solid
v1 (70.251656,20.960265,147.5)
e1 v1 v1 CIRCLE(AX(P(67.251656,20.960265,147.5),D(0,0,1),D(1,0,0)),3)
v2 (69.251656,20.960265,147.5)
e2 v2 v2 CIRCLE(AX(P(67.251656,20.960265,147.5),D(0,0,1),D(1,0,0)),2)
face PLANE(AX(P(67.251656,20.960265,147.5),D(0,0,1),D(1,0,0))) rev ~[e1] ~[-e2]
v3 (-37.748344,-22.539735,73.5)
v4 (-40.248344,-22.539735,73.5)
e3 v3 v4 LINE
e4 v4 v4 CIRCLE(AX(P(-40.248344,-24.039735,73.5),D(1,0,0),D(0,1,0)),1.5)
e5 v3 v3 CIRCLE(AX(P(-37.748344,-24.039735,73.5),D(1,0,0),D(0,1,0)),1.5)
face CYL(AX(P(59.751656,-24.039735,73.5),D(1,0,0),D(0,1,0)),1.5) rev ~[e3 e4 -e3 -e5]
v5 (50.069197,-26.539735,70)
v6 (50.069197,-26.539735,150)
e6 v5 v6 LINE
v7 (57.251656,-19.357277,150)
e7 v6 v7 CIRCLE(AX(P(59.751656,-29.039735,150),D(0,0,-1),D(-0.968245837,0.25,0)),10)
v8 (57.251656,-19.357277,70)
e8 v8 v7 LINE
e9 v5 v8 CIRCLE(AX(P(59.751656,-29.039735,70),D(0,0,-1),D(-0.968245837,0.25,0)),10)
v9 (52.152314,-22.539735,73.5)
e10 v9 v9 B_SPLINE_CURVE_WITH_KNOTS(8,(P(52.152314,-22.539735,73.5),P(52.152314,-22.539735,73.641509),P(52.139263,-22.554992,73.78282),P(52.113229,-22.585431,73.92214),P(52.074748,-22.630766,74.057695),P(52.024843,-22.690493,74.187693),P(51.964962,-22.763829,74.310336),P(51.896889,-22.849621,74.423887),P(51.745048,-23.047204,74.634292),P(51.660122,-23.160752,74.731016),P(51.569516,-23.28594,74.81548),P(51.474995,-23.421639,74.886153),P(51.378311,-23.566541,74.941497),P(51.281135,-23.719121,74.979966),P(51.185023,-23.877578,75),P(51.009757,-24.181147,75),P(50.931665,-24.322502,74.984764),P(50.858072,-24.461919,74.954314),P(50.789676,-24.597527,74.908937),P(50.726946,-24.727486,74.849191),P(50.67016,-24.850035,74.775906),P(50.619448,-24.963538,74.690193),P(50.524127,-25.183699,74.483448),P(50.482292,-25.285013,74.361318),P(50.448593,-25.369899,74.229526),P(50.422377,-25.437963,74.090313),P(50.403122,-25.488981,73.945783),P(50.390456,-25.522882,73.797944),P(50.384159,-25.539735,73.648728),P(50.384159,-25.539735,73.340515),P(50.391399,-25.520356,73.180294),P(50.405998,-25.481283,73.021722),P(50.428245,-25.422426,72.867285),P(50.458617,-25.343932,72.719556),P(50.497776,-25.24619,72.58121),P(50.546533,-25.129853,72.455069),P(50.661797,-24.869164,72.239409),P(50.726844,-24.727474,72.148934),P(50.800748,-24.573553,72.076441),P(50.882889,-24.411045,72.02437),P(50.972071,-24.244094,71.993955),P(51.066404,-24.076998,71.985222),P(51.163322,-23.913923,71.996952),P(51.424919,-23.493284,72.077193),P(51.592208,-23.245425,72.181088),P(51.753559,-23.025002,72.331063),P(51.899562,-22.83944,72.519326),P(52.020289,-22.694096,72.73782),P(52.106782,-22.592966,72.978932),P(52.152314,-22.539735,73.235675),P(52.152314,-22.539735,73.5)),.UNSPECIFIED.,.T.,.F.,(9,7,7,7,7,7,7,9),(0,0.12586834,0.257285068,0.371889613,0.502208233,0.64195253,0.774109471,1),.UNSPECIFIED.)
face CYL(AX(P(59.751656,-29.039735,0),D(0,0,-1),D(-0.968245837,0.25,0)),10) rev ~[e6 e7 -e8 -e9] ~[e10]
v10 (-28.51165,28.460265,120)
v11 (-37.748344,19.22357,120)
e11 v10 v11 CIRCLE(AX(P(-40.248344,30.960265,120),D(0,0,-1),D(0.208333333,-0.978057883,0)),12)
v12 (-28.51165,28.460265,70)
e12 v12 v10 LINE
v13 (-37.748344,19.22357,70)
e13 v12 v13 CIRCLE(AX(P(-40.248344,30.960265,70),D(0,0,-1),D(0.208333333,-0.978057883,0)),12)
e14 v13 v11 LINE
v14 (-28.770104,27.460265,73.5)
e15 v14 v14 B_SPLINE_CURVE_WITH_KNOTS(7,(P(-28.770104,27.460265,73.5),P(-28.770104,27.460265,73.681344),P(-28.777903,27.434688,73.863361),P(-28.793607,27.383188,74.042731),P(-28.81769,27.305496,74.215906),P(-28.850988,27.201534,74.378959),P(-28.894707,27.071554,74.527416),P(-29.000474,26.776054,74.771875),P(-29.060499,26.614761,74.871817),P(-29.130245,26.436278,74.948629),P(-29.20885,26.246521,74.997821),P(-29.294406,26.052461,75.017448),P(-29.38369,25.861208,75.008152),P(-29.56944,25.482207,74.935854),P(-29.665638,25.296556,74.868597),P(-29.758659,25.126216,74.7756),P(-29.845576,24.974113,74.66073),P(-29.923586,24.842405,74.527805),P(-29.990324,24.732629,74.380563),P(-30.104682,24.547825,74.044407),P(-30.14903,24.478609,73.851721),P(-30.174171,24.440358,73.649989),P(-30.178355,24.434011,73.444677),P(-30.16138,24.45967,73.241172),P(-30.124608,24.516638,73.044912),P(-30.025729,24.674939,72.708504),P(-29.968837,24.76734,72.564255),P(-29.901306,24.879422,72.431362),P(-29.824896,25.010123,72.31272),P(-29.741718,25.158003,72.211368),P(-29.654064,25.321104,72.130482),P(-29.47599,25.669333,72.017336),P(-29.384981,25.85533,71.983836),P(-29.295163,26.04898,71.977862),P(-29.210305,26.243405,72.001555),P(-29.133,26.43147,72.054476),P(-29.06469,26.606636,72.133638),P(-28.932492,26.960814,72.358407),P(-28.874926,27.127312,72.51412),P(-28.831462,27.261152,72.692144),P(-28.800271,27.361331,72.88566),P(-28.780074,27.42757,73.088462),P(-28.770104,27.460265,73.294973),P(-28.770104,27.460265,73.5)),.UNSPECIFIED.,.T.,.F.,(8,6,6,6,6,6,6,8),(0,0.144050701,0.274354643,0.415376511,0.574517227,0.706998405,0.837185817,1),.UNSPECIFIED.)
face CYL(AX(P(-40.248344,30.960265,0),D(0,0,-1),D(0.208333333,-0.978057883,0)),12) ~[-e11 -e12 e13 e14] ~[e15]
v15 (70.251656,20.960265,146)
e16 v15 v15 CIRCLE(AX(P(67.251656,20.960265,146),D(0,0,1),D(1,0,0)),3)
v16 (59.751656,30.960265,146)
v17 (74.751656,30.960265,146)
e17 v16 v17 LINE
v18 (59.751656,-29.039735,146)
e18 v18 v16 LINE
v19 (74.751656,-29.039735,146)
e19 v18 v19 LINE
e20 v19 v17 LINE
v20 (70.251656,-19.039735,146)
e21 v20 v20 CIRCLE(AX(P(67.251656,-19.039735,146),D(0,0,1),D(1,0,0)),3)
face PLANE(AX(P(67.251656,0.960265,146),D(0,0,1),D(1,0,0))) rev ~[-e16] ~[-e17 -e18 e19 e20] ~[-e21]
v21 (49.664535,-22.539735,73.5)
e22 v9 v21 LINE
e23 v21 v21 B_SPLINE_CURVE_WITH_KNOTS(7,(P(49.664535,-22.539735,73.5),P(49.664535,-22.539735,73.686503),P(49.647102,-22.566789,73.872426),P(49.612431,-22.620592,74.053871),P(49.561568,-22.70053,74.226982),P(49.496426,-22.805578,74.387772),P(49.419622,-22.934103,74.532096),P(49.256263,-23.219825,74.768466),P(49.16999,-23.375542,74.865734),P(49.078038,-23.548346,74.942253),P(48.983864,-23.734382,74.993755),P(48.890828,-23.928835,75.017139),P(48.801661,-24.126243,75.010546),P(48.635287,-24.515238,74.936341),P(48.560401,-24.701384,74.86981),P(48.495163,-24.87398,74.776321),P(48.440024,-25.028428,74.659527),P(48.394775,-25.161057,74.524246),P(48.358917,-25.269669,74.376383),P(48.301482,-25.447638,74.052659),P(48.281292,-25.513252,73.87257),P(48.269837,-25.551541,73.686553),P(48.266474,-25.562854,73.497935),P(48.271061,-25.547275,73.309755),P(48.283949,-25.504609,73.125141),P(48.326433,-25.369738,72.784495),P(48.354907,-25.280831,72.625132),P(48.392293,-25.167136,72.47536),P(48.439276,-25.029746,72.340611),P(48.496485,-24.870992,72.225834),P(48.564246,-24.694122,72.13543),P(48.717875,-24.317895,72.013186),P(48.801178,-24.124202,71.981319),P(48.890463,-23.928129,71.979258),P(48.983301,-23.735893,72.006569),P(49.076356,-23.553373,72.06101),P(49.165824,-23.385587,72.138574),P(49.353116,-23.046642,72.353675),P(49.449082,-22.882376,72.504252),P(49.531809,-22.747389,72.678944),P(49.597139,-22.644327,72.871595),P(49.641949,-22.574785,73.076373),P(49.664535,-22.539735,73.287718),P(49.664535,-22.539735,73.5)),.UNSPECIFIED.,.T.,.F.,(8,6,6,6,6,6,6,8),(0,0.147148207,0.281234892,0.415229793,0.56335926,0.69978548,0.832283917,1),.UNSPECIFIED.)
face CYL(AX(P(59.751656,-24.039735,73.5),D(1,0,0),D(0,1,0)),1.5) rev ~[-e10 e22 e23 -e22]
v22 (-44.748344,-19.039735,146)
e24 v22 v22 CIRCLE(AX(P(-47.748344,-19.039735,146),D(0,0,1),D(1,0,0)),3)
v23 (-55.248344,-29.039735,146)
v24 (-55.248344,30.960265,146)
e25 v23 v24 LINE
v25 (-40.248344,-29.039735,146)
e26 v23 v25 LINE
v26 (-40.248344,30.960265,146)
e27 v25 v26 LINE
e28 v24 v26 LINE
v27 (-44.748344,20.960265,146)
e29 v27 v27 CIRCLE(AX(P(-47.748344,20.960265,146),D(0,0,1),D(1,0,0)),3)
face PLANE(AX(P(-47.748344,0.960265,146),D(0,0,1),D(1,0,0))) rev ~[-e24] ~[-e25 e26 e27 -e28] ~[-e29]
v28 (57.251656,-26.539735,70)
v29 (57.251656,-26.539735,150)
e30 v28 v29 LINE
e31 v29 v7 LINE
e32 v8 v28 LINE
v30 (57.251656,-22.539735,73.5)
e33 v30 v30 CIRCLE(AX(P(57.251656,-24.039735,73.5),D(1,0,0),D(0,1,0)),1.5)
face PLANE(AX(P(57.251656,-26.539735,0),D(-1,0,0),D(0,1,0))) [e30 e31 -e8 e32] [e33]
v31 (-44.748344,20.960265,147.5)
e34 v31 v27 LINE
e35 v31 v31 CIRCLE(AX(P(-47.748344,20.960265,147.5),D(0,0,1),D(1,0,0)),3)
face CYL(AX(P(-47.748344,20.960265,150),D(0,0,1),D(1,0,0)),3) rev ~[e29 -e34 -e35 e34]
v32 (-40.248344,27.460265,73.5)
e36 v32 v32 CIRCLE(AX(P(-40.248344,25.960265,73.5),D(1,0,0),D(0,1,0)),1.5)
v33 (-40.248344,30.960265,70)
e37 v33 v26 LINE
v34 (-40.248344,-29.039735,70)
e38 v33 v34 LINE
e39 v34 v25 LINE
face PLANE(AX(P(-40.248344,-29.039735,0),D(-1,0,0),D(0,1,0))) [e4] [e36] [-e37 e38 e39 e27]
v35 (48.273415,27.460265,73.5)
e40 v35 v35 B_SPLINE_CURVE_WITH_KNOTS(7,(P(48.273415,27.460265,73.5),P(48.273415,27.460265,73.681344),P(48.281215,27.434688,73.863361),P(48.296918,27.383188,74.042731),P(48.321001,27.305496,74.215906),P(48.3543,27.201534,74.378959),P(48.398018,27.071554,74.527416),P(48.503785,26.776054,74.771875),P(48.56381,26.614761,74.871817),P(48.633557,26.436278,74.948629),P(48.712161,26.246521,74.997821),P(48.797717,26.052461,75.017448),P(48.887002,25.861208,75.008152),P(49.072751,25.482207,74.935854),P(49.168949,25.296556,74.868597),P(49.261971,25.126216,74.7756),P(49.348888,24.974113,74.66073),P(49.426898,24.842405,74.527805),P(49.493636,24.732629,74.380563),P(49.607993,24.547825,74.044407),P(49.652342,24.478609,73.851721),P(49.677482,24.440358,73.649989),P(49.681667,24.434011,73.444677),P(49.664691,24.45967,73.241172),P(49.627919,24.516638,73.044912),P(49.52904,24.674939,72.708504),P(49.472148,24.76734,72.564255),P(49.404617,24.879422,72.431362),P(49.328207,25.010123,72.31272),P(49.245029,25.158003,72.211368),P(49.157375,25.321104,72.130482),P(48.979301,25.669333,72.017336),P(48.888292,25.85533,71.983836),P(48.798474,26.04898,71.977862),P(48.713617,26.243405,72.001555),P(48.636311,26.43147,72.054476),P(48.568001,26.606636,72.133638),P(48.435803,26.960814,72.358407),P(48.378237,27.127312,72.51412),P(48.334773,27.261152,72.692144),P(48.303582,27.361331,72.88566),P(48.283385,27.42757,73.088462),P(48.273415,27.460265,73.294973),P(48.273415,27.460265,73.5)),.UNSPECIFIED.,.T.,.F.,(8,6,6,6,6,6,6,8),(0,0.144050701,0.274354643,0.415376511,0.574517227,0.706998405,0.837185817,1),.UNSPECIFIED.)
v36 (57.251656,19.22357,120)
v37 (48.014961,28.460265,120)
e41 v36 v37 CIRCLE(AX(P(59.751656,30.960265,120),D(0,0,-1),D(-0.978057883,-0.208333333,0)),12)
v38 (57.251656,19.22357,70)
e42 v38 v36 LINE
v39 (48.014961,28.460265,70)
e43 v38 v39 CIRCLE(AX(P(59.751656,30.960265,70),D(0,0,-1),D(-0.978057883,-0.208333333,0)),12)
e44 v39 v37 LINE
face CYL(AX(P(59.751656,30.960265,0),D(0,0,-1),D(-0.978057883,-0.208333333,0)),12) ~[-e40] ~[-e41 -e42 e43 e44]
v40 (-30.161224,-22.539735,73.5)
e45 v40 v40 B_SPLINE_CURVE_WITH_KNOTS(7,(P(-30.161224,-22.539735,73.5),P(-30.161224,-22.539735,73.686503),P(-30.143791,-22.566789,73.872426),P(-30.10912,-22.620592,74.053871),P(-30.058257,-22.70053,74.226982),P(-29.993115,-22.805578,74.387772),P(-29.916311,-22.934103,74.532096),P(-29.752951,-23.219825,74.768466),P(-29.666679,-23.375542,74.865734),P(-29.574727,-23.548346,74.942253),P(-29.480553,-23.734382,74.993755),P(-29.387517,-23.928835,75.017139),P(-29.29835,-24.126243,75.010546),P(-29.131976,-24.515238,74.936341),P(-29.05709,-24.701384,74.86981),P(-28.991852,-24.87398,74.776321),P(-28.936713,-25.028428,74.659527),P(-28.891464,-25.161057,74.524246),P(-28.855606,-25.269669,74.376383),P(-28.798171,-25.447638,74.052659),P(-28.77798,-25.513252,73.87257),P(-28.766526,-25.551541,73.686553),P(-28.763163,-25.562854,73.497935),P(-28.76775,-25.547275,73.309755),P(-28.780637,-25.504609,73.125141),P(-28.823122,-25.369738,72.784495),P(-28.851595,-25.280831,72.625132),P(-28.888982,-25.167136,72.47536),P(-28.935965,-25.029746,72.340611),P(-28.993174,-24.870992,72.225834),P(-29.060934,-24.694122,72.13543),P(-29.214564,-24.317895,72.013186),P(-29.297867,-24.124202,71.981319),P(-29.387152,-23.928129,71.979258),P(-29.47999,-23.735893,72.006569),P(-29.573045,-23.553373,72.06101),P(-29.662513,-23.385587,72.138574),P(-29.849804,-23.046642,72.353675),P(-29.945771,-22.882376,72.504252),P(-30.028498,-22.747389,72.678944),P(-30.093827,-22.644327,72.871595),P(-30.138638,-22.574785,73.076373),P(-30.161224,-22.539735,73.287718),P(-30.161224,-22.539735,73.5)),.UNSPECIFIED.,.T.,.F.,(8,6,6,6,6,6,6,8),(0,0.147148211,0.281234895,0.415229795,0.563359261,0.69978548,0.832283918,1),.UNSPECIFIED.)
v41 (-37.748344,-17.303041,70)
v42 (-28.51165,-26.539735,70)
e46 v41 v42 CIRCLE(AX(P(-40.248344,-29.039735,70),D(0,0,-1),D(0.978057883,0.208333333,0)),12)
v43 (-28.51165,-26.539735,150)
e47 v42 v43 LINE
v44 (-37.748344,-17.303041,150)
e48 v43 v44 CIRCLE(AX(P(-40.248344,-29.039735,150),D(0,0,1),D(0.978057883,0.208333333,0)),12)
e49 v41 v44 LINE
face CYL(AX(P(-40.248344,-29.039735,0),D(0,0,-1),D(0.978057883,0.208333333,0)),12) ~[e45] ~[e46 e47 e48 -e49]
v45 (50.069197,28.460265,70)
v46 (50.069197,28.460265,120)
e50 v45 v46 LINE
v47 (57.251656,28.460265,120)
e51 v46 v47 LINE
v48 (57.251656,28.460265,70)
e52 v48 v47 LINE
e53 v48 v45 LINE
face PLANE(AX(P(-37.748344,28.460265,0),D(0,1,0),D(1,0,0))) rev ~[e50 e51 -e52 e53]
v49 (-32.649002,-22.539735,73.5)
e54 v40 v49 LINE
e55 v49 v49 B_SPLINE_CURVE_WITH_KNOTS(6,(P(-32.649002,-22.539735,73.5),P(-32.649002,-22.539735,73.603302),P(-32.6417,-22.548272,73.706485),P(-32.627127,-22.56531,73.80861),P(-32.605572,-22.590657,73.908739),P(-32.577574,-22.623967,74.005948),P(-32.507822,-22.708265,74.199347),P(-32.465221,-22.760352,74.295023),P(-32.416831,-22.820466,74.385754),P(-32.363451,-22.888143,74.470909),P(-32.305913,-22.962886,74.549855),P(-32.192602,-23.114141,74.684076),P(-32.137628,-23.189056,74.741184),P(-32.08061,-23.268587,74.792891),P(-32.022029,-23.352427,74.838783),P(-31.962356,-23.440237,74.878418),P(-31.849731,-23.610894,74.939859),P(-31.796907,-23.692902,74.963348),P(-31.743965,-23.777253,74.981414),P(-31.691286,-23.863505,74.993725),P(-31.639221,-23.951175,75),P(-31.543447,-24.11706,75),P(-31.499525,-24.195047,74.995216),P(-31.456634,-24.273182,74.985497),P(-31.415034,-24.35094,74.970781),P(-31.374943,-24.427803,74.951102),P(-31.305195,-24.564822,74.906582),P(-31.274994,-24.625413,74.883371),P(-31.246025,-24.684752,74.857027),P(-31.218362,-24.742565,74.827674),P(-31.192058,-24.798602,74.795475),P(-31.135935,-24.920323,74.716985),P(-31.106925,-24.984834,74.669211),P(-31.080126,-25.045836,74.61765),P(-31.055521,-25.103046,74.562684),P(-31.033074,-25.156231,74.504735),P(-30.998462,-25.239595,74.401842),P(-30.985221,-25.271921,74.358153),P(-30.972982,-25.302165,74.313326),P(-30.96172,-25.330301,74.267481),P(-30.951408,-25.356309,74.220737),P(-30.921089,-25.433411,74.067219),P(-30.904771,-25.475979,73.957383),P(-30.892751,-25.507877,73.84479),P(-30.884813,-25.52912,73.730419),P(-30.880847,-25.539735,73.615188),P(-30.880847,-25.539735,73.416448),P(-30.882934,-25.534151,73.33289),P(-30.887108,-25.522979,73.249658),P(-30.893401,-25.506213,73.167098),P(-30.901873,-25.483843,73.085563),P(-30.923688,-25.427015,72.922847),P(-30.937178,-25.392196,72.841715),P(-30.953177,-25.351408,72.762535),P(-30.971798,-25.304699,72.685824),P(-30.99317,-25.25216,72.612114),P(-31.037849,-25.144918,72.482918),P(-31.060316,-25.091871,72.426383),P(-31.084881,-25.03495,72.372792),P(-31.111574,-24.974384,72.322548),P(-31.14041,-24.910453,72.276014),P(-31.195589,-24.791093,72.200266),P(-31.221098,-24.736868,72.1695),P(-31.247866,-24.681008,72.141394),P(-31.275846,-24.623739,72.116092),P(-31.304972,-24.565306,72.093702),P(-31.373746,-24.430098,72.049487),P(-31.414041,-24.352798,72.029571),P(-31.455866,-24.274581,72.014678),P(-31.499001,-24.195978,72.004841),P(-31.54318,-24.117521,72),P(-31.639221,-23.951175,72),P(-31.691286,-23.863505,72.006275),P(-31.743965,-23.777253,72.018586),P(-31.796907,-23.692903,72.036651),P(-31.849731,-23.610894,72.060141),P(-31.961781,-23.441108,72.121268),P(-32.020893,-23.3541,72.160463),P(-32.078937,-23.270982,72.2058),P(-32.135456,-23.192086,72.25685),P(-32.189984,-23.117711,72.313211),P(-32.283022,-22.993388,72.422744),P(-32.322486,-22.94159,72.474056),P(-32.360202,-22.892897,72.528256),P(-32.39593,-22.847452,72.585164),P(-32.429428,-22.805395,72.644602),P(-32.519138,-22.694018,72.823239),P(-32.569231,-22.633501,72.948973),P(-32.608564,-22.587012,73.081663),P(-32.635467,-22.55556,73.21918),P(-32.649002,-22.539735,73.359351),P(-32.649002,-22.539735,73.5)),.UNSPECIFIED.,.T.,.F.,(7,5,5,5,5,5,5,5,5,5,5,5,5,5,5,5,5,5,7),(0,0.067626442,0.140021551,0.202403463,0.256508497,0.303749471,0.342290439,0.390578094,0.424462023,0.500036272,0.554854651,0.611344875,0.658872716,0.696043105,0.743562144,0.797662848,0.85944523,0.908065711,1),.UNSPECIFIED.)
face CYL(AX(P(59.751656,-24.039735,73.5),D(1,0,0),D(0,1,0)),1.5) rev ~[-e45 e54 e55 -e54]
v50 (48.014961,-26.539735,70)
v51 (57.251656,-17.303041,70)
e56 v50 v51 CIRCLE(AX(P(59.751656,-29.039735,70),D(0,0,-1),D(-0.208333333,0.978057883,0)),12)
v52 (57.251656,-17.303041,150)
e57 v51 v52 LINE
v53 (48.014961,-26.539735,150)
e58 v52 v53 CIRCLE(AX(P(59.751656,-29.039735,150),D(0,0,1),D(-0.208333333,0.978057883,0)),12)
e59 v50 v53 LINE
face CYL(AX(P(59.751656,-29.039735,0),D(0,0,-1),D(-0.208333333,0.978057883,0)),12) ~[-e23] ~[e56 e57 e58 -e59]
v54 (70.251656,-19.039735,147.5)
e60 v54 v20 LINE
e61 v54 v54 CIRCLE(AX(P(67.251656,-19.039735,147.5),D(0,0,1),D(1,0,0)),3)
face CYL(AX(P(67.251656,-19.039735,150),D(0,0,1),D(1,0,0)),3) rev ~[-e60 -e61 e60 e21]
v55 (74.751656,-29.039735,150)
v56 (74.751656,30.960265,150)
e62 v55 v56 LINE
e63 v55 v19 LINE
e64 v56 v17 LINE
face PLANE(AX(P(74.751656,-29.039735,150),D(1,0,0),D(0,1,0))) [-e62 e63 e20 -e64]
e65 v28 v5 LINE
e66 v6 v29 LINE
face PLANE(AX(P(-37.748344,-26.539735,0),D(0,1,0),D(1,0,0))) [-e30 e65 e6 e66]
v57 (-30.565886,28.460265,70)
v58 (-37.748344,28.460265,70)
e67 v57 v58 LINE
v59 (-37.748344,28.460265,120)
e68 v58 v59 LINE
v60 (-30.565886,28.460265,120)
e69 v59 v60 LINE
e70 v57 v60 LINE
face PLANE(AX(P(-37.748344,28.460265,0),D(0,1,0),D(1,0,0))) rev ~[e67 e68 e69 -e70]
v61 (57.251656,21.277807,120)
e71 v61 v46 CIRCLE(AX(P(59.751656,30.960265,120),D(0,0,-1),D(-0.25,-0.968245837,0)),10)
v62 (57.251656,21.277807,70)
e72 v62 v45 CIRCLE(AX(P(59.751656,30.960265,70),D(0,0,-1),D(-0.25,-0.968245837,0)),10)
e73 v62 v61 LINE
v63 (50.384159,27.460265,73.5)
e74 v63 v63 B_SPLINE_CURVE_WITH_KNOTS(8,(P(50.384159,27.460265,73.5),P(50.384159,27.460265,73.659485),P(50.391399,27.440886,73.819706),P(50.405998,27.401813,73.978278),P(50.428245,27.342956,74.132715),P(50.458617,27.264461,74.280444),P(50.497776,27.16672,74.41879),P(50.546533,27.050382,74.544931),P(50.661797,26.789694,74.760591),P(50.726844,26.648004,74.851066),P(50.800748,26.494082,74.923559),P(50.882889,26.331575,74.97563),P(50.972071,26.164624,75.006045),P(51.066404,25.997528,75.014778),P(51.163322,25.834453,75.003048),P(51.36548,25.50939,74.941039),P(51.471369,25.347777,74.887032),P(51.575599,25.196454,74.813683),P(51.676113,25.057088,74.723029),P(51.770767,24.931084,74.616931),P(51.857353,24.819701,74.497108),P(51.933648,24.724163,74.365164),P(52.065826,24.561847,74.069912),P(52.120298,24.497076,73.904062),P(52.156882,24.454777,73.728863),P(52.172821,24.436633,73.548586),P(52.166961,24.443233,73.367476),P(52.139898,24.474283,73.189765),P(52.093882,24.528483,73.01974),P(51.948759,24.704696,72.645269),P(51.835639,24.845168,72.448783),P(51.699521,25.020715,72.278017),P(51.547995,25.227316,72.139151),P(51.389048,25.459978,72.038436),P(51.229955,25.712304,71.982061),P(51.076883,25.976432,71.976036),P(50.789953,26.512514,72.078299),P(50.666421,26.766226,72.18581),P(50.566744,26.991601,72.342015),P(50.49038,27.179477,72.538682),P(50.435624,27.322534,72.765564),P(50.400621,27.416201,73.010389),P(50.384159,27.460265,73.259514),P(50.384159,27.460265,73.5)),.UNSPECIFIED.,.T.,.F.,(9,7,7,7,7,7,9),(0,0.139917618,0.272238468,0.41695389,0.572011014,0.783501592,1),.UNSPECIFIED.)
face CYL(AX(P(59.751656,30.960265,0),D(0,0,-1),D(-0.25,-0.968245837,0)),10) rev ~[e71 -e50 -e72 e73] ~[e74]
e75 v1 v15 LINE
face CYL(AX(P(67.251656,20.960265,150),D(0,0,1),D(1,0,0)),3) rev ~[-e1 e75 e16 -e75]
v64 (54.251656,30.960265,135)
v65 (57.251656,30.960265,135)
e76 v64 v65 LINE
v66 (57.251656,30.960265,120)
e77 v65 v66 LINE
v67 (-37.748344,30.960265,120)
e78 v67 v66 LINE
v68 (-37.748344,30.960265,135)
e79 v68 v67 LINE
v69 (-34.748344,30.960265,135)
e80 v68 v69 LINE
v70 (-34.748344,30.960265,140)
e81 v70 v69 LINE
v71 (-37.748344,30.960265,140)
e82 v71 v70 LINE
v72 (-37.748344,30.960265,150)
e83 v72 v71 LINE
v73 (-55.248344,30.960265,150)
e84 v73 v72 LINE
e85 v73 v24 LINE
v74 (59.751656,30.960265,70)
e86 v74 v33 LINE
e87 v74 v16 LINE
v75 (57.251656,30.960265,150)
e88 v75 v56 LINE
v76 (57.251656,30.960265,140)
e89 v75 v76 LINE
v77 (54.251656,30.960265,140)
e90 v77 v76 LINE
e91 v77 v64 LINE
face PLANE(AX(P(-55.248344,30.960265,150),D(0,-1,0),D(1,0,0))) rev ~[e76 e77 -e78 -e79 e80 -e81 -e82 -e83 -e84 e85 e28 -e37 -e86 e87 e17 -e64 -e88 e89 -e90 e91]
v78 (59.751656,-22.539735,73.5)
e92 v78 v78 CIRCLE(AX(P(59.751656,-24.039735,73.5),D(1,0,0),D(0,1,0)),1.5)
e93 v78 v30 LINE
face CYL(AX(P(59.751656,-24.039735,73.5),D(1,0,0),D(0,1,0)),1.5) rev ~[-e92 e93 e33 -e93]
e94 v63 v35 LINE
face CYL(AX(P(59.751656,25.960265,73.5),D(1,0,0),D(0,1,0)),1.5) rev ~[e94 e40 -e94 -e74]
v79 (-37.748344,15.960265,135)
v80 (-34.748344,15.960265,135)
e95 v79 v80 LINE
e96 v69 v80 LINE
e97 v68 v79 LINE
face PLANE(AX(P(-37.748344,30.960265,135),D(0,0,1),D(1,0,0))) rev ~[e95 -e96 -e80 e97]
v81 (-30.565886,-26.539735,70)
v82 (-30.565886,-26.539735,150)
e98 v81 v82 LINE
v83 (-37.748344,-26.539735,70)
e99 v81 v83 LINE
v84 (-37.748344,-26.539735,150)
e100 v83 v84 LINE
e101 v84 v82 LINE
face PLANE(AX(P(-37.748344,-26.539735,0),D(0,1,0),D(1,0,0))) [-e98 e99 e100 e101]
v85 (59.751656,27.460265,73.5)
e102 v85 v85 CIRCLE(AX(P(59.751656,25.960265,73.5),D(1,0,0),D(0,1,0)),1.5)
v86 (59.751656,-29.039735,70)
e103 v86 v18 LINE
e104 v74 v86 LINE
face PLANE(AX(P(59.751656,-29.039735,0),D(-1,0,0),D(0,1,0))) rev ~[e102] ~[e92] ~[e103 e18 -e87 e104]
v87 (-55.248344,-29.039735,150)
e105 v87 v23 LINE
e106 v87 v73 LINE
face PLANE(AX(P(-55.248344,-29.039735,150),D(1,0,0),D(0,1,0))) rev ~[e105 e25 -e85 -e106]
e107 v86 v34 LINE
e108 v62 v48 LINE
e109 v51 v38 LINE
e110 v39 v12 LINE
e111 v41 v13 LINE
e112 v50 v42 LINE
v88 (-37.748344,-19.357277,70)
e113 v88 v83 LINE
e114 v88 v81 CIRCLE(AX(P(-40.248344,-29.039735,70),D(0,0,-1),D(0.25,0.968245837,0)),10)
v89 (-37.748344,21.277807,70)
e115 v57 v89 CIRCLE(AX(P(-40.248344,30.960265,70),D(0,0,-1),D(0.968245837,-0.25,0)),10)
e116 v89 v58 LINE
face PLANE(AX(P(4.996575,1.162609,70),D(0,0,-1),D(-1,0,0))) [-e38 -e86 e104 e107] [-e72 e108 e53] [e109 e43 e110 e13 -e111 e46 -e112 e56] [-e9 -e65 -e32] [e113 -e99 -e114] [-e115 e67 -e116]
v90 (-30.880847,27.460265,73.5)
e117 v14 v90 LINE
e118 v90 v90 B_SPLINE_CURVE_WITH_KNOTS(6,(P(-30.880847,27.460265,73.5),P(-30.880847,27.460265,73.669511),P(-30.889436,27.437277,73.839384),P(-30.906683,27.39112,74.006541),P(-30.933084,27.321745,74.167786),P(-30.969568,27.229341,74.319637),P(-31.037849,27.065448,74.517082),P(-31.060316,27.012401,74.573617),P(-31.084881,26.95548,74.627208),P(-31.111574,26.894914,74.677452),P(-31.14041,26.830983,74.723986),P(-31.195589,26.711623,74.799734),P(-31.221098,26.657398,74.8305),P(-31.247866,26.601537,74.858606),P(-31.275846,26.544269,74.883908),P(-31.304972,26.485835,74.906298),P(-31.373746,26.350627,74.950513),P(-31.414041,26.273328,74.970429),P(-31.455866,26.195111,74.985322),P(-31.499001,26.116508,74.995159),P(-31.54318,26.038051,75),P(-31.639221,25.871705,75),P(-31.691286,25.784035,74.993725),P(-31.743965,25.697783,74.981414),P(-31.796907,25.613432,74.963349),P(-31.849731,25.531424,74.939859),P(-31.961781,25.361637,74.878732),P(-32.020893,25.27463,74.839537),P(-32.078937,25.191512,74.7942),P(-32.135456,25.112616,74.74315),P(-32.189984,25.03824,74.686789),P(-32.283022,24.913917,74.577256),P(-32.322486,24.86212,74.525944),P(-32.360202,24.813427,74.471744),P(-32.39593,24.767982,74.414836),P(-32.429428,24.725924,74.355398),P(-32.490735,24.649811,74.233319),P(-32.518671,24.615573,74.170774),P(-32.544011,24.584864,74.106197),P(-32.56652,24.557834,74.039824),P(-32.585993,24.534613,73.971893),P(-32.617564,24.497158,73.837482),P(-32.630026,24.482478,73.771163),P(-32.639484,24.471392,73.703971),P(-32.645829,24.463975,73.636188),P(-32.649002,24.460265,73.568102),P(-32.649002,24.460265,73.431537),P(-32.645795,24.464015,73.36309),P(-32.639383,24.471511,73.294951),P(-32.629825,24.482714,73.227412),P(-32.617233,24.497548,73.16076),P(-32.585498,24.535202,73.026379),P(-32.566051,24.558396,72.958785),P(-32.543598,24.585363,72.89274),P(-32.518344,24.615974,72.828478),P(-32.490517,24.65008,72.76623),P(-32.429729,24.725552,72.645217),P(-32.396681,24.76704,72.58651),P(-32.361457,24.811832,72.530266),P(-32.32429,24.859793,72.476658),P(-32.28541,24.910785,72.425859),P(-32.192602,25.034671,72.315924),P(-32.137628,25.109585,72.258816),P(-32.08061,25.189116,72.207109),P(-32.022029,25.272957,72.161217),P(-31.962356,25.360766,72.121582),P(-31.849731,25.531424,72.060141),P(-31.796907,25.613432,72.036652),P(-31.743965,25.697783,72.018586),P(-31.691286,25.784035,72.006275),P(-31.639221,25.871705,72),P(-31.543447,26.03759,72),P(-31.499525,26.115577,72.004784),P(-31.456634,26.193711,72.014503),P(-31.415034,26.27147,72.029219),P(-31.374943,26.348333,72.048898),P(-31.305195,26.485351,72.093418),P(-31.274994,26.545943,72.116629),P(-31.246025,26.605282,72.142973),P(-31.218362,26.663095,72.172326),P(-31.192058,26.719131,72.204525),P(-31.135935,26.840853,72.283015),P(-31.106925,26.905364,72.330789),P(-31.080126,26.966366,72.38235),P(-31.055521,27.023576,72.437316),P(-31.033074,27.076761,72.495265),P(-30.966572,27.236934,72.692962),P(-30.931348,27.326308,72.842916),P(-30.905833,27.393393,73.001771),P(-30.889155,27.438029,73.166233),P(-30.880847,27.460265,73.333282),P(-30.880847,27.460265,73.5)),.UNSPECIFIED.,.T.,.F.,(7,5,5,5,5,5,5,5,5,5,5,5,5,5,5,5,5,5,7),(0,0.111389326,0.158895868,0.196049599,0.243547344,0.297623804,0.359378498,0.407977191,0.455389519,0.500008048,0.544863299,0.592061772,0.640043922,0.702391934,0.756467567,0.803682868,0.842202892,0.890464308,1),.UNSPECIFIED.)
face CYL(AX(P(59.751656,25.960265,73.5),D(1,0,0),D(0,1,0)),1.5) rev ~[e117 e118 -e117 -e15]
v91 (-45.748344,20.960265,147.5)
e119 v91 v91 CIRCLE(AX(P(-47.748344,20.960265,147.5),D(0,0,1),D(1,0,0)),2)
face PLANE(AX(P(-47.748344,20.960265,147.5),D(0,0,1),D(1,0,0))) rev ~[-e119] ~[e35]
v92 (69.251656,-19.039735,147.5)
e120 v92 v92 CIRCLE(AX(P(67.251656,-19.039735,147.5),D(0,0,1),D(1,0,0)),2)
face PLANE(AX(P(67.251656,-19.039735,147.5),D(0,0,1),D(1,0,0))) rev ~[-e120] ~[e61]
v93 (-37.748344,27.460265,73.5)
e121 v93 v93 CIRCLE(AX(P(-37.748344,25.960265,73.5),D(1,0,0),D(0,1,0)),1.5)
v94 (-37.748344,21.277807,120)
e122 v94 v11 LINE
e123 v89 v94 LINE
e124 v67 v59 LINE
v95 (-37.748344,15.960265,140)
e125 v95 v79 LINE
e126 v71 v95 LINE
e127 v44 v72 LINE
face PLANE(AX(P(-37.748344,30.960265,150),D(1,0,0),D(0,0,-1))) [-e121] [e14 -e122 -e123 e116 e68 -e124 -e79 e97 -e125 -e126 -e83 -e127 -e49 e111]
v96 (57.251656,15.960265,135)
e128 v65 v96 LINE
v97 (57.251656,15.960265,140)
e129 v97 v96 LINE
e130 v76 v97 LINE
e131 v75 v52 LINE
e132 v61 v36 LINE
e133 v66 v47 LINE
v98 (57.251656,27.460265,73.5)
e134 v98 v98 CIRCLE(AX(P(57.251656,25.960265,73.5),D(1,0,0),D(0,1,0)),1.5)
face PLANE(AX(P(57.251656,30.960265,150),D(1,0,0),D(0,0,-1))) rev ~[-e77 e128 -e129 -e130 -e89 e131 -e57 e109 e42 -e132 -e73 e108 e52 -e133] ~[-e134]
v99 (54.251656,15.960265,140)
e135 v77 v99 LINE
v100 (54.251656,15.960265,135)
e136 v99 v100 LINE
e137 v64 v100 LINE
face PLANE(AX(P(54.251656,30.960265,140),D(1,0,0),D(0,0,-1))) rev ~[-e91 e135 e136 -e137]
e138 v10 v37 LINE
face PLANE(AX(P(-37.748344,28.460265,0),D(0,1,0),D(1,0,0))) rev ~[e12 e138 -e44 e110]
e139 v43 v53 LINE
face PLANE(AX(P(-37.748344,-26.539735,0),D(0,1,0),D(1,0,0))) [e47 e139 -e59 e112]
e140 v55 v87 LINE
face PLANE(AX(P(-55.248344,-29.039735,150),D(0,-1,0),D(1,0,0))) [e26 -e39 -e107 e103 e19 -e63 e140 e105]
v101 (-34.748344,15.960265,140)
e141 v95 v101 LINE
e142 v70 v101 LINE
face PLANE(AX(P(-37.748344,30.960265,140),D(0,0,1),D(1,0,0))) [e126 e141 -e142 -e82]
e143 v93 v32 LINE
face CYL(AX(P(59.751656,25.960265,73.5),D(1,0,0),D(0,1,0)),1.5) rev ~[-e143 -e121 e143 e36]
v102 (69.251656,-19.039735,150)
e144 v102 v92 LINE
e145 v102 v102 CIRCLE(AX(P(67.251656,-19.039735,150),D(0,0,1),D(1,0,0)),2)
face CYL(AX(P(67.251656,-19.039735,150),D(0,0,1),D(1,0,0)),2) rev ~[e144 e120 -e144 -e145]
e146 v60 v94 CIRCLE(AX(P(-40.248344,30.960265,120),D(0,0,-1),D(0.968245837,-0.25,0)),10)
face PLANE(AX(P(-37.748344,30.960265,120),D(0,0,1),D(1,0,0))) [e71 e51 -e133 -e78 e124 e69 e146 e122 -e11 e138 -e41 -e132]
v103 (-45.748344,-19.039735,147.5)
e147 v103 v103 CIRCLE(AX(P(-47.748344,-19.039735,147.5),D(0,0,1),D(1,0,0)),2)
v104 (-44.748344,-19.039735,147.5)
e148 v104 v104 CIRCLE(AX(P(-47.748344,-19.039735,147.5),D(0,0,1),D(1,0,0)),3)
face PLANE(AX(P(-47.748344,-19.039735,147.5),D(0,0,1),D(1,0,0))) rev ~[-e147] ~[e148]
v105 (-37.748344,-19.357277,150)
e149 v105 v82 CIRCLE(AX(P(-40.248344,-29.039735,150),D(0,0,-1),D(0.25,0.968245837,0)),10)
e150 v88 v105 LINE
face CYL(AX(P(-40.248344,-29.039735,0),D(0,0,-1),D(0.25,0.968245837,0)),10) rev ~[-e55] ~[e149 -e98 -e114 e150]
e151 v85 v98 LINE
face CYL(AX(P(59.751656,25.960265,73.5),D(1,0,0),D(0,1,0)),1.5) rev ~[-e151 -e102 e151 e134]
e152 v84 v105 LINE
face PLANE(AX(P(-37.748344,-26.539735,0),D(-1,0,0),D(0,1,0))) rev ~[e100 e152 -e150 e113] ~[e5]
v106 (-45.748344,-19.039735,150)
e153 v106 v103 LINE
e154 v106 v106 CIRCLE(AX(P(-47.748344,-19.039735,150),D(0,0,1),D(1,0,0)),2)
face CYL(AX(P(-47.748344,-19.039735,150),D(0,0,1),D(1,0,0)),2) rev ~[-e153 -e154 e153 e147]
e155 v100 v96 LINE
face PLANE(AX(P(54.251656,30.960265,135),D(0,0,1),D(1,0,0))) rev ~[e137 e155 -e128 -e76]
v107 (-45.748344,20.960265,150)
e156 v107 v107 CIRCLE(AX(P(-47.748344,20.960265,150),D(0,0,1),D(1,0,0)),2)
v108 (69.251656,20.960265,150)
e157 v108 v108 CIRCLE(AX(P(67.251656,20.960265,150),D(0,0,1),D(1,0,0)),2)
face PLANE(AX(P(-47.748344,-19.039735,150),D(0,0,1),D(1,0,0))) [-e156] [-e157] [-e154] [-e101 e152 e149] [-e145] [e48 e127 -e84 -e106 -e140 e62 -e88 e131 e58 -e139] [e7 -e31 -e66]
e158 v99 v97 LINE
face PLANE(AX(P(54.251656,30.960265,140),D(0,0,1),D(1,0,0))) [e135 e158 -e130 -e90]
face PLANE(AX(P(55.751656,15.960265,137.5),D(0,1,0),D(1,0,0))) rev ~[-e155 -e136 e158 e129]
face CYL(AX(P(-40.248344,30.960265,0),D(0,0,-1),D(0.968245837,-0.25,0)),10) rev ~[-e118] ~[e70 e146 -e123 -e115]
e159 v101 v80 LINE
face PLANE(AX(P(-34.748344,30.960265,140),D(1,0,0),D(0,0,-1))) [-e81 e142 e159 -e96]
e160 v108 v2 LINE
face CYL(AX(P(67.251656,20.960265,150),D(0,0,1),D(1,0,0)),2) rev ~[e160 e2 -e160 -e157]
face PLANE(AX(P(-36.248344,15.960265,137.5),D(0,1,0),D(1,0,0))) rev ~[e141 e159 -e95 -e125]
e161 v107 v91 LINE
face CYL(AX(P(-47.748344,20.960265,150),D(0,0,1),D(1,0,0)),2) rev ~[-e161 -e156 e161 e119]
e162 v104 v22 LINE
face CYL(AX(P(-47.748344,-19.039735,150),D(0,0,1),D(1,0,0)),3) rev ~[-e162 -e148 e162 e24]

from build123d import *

# Parameters (mm, degrees)
SKETCH1_W                = 100
SKETCH1_H                = 60
BOSS_EXTRUDE1_DEPTH      = 150
SKETCH2_W                = 95
SKETCH2_H                = 30
CUT_EXTRUDE1_DEPTH       = 20
BOSS_EXTRUDE2_DEPTH      = 13
BOSS_EXTRUDE2_DEPTH_BACK = 5
SKETCH3_W                = 106
SKETCH3_H                = 66
SKETCH3_W_2              = 100
SKETCH3_H_2              = 60
SKETCH4_R                = 1.5
CUT_EXTRUDE2_DEPTH       = 120
SKETCH5_R                = 3
CUT_EXTRUDE3_DEPTH       = 1
CUT_EXTRUDE4_START       = -1
SKETCH6_R                = 3
CUT_EXTRUDE4_DEPTH       = 1
SKETCH8_W                = 157.221191822
SKETCH8_H                = 99.5531871
CUT_EXTRUDE6_DEPTH       = 83
SKETCH9_R                = 1.5
CUT_EXTRUDE7_DEPTH       = 120
SKETCH10_W               = 3
SKETCH10_H               = 5
BOSS_EXTRUDE3_DEPTH      = 15
SKETCH11_W               = 15
SKETCH11_H               = 60
SKETCH11_R               = 3
BOSS_EXTRUDE4_DEPTH      = 4
SKETCH11_3_R             = 3
SKETCH11_3_R_2           = 2
BOSS_EXTRUDE5_DEPTH      = 2.5


with BuildPart() as part:
    # Sketch1 → Boss-Extrude1 (new body)
    with BuildSketch(Plane.XY):
        with Locations((9.751655629, 0.960264901)):
            Rectangle(SKETCH1_W, SKETCH1_H)
        with BuildLine():
            Line((-37.748344371, 21.277806535), (-37.748344371, 28.460264901))
            Line((-37.748344371, 28.460264901), (-30.565886005, 28.460264901))
            ThreePointArc((-30.565886005, 28.460264901), (-33.177276559, 23.889197089), (-37.748344371, 21.277806535))
        make_face(mode=Mode.SUBTRACT)
        with BuildLine():
            Line((-37.748344371, -17.303040505), (-37.748344371, 19.223570306))
            ThreePointArc((-37.748344371, 19.223570306), (-31.763062997, 22.474983526), (-28.511649777, 28.460264901))
            Line((-28.511649777, 28.460264901), (48.014961035, 28.460264901))
            ThreePointArc((48.014961035, 28.460264901), (51.266374255, 22.474983526), (57.251655629, 19.223570306))
            Line((57.251655629, 19.223570306), (57.251655629, -17.303040505))
            ThreePointArc((57.251655629, -17.303040505), (51.266374255, -20.554453725), (48.014961035, -26.539735099))
            Line((48.014961035, -26.539735099), (-28.511649777, -26.539735099))
            ThreePointArc((-28.511649777, -26.539735099), (-31.763062997, -20.554453725), (-37.748344371, -17.303040505))
        make_face(mode=Mode.SUBTRACT)
        with BuildLine():
            Line((-37.748344371, -26.539735099), (-37.748344371, -19.357276734))
            ThreePointArc((-37.748344371, -19.357276734), (-33.177276559, -21.968667287), (-30.565886005, -26.539735099))
            Line((-30.565886005, -26.539735099), (-37.748344371, -26.539735099))
        make_face(mode=Mode.SUBTRACT)
        with BuildLine():
            Line((57.251655629, -26.539735099), (50.069197264, -26.539735099))
            ThreePointArc((50.069197264, -26.539735099), (52.680587817, -21.968667287), (57.251655629, -19.357276734))
            Line((57.251655629, -19.357276734), (57.251655629, -26.539735099))
        make_face(mode=Mode.SUBTRACT)
        with BuildLine():
            Line((57.251655629, 28.460264901), (57.251655629, 21.277806535))
            ThreePointArc((57.251655629, 21.277806535), (52.680587817, 23.889197089), (50.069197264, 28.460264901))
            Line((50.069197264, 28.460264901), (57.251655629, 28.460264901))
        make_face(mode=Mode.SUBTRACT)
    extrude(amount=BOSS_EXTRUDE1_DEPTH)

    # Sketch2 → Cut-Extrude1 (cut)
    with BuildSketch(Plane(origin=(0, 30.960264901, 0), x_dir=(1, 0, 0), z_dir=(0, 1, 0))):
        with Locations((9.751655629, -135)):
            Rectangle(SKETCH2_W, SKETCH2_H)
    extrude(amount=-CUT_EXTRUDE1_DEPTH, mode=Mode.SUBTRACT)

    # Sketch3 → Boss-Extrude2 (add, two sides: drawn at the far end of the back side and taken through both)
    with BuildSketch(Plane(origin=(0, 0, 0), x_dir=(-1, 0, 0), z_dir=(0, 0, -1)).offset(-BOSS_EXTRUDE2_DEPTH_BACK)):
        with Locations((-9.751655629, 0.960264901)):
            Rectangle(SKETCH3_W, SKETCH3_H)
        with Locations((-9.751655629, 0.960264901)):
            Rectangle(SKETCH3_W_2, SKETCH3_H_2, mode=Mode.SUBTRACT)
    extrude(amount=BOSS_EXTRUDE2_DEPTH + BOSS_EXTRUDE2_DEPTH_BACK)

    # Sketch4 → Cut-Extrude2 (cut)
    with BuildSketch(Plane.ZY.offset(43.248344371)):
        with Locations((-4, -24.039735099)):
            Circle(SKETCH4_R)
        with Locations((-4, 25.960264901)):
            Circle(SKETCH4_R)
    extrude(amount=-CUT_EXTRUDE2_DEPTH, mode=Mode.SUBTRACT)

    # Sketch5 → Cut-Extrude3 (cut)
    with BuildSketch(Plane(origin=(62.751655629, 0, 0), x_dir=(0, 0, -1), z_dir=(1, 0, 0))):
        with Locations((4, -24.039735099)):
            Circle(SKETCH5_R)
        with Locations((4, 25.960264901)):
            Circle(SKETCH5_R)
    extrude(amount=-CUT_EXTRUDE3_DEPTH, mode=Mode.SUBTRACT)

    # Sketch6 → Cut-Extrude4 (cut)
    with BuildSketch(Plane.ZY.offset(43.248344371).offset(CUT_EXTRUDE4_START)):
        with Locations((-4, 25.960264901)):
            Circle(SKETCH6_R)
        with Locations((-4, -24.087684502)):
            Circle(SKETCH6_R)
    extrude(amount=CUT_EXTRUDE4_DEPTH, mode=Mode.SUBTRACT)

    # Sketch8 → Cut-Extrude6 (cut)
    with BuildSketch(Plane(origin=(0, 0, -13), x_dir=(-1, 0, 0), z_dir=(0, 0, -1))):
        with Locations((-4.996574538, 1.162608777)):
            Rectangle(SKETCH8_W, SKETCH8_H)
    extrude(amount=-CUT_EXTRUDE6_DEPTH, mode=Mode.SUBTRACT)

    # Sketch9 → Cut-Extrude7 (cut)
    with BuildSketch(Plane(origin=(59.751655629, 0, 0), x_dir=(0, 0, -1), z_dir=(1, 0, 0))):
        with Locations((-73.5, -24.039735099)):
            Circle(SKETCH9_R)
        with Locations((-73.5, 25.960264901)):
            Circle(SKETCH9_R)
    extrude(amount=-CUT_EXTRUDE7_DEPTH, mode=Mode.SUBTRACT)

    # Sketch10 → Boss-Extrude3 (add)
    with BuildSketch(Plane(origin=(0, 30.960264901, 0), x_dir=(1, 0, 0), z_dir=(0, 1, 0))):
        with Locations((-36.248344371, -137.5)):
            Rectangle(SKETCH10_W, SKETCH10_H)
        with Locations((55.751655629, -137.5)):
            Rectangle(SKETCH10_W, SKETCH10_H)
    extrude(amount=-BOSS_EXTRUDE3_DEPTH)

    # Sketch11 → Boss-Extrude4 (add)
    # profile 1 of 2: a face of its own
    with BuildSketch(Plane.XY.offset(150)):
        with Locations((-47.748344371, 0.960264901)):
            Rectangle(SKETCH11_W, SKETCH11_H)
        with Locations((-47.748344371, -19.039735099)):
            Circle(SKETCH11_R, mode=Mode.SUBTRACT)
        with Locations((-47.748344371, 20.960264901)):
            Circle(SKETCH11_R, mode=Mode.SUBTRACT)
    # profile 2 of 2: a face of its own
    with BuildSketch(Plane.XY.offset(150)):
        with Locations((67.251655629, 0.960264901)):
            Rectangle(SKETCH11_W, SKETCH11_H)
        with Locations((67.251655629, -19.039735099)):
            Circle(SKETCH11_R, mode=Mode.SUBTRACT)
        with Locations((67.251655629, 20.960264901)):
            Circle(SKETCH11_R, mode=Mode.SUBTRACT)
    extrude(amount=-BOSS_EXTRUDE4_DEPTH)

    # Sketch11<3> → Boss-Extrude5 (add)
    # profile 1 of 4: a face of its own
    with BuildSketch(Plane.XY.offset(150)):
        with Locations((-47.748344371, -19.039735099)):
            Circle(SKETCH11_3_R)
        with Locations((-47.748344371, -19.039735099)):
            Circle(SKETCH11_3_R_2, mode=Mode.SUBTRACT)
    # profile 2 of 4: a face of its own
    with BuildSketch(Plane.XY.offset(150)):
        with Locations((67.251655629, 20.960264901)):
            Circle(SKETCH11_3_R)
        with Locations((67.251655629, 20.960264901)):
            Circle(SKETCH11_3_R_2, mode=Mode.SUBTRACT)
    # profile 3 of 4: a face of its own
    with BuildSketch(Plane.XY.offset(150)):
        with Locations((67.251655629, -19.039735099)):
            Circle(SKETCH11_3_R)
        with Locations((67.251655629, -19.039735099)):
            Circle(SKETCH11_3_R_2, mode=Mode.SUBTRACT)
    # profile 4 of 4: a face of its own
    with BuildSketch(Plane.XY.offset(150)):
        with Locations((-47.748344371, 20.960264901)):
            Circle(SKETCH11_3_R)
        with Locations((-47.748344371, 20.960264901)):
            Circle(SKETCH11_3_R_2, mode=Mode.SUBTRACT)
    extrude(amount=-BOSS_EXTRUDE5_DEPTH)


solid = part.part
